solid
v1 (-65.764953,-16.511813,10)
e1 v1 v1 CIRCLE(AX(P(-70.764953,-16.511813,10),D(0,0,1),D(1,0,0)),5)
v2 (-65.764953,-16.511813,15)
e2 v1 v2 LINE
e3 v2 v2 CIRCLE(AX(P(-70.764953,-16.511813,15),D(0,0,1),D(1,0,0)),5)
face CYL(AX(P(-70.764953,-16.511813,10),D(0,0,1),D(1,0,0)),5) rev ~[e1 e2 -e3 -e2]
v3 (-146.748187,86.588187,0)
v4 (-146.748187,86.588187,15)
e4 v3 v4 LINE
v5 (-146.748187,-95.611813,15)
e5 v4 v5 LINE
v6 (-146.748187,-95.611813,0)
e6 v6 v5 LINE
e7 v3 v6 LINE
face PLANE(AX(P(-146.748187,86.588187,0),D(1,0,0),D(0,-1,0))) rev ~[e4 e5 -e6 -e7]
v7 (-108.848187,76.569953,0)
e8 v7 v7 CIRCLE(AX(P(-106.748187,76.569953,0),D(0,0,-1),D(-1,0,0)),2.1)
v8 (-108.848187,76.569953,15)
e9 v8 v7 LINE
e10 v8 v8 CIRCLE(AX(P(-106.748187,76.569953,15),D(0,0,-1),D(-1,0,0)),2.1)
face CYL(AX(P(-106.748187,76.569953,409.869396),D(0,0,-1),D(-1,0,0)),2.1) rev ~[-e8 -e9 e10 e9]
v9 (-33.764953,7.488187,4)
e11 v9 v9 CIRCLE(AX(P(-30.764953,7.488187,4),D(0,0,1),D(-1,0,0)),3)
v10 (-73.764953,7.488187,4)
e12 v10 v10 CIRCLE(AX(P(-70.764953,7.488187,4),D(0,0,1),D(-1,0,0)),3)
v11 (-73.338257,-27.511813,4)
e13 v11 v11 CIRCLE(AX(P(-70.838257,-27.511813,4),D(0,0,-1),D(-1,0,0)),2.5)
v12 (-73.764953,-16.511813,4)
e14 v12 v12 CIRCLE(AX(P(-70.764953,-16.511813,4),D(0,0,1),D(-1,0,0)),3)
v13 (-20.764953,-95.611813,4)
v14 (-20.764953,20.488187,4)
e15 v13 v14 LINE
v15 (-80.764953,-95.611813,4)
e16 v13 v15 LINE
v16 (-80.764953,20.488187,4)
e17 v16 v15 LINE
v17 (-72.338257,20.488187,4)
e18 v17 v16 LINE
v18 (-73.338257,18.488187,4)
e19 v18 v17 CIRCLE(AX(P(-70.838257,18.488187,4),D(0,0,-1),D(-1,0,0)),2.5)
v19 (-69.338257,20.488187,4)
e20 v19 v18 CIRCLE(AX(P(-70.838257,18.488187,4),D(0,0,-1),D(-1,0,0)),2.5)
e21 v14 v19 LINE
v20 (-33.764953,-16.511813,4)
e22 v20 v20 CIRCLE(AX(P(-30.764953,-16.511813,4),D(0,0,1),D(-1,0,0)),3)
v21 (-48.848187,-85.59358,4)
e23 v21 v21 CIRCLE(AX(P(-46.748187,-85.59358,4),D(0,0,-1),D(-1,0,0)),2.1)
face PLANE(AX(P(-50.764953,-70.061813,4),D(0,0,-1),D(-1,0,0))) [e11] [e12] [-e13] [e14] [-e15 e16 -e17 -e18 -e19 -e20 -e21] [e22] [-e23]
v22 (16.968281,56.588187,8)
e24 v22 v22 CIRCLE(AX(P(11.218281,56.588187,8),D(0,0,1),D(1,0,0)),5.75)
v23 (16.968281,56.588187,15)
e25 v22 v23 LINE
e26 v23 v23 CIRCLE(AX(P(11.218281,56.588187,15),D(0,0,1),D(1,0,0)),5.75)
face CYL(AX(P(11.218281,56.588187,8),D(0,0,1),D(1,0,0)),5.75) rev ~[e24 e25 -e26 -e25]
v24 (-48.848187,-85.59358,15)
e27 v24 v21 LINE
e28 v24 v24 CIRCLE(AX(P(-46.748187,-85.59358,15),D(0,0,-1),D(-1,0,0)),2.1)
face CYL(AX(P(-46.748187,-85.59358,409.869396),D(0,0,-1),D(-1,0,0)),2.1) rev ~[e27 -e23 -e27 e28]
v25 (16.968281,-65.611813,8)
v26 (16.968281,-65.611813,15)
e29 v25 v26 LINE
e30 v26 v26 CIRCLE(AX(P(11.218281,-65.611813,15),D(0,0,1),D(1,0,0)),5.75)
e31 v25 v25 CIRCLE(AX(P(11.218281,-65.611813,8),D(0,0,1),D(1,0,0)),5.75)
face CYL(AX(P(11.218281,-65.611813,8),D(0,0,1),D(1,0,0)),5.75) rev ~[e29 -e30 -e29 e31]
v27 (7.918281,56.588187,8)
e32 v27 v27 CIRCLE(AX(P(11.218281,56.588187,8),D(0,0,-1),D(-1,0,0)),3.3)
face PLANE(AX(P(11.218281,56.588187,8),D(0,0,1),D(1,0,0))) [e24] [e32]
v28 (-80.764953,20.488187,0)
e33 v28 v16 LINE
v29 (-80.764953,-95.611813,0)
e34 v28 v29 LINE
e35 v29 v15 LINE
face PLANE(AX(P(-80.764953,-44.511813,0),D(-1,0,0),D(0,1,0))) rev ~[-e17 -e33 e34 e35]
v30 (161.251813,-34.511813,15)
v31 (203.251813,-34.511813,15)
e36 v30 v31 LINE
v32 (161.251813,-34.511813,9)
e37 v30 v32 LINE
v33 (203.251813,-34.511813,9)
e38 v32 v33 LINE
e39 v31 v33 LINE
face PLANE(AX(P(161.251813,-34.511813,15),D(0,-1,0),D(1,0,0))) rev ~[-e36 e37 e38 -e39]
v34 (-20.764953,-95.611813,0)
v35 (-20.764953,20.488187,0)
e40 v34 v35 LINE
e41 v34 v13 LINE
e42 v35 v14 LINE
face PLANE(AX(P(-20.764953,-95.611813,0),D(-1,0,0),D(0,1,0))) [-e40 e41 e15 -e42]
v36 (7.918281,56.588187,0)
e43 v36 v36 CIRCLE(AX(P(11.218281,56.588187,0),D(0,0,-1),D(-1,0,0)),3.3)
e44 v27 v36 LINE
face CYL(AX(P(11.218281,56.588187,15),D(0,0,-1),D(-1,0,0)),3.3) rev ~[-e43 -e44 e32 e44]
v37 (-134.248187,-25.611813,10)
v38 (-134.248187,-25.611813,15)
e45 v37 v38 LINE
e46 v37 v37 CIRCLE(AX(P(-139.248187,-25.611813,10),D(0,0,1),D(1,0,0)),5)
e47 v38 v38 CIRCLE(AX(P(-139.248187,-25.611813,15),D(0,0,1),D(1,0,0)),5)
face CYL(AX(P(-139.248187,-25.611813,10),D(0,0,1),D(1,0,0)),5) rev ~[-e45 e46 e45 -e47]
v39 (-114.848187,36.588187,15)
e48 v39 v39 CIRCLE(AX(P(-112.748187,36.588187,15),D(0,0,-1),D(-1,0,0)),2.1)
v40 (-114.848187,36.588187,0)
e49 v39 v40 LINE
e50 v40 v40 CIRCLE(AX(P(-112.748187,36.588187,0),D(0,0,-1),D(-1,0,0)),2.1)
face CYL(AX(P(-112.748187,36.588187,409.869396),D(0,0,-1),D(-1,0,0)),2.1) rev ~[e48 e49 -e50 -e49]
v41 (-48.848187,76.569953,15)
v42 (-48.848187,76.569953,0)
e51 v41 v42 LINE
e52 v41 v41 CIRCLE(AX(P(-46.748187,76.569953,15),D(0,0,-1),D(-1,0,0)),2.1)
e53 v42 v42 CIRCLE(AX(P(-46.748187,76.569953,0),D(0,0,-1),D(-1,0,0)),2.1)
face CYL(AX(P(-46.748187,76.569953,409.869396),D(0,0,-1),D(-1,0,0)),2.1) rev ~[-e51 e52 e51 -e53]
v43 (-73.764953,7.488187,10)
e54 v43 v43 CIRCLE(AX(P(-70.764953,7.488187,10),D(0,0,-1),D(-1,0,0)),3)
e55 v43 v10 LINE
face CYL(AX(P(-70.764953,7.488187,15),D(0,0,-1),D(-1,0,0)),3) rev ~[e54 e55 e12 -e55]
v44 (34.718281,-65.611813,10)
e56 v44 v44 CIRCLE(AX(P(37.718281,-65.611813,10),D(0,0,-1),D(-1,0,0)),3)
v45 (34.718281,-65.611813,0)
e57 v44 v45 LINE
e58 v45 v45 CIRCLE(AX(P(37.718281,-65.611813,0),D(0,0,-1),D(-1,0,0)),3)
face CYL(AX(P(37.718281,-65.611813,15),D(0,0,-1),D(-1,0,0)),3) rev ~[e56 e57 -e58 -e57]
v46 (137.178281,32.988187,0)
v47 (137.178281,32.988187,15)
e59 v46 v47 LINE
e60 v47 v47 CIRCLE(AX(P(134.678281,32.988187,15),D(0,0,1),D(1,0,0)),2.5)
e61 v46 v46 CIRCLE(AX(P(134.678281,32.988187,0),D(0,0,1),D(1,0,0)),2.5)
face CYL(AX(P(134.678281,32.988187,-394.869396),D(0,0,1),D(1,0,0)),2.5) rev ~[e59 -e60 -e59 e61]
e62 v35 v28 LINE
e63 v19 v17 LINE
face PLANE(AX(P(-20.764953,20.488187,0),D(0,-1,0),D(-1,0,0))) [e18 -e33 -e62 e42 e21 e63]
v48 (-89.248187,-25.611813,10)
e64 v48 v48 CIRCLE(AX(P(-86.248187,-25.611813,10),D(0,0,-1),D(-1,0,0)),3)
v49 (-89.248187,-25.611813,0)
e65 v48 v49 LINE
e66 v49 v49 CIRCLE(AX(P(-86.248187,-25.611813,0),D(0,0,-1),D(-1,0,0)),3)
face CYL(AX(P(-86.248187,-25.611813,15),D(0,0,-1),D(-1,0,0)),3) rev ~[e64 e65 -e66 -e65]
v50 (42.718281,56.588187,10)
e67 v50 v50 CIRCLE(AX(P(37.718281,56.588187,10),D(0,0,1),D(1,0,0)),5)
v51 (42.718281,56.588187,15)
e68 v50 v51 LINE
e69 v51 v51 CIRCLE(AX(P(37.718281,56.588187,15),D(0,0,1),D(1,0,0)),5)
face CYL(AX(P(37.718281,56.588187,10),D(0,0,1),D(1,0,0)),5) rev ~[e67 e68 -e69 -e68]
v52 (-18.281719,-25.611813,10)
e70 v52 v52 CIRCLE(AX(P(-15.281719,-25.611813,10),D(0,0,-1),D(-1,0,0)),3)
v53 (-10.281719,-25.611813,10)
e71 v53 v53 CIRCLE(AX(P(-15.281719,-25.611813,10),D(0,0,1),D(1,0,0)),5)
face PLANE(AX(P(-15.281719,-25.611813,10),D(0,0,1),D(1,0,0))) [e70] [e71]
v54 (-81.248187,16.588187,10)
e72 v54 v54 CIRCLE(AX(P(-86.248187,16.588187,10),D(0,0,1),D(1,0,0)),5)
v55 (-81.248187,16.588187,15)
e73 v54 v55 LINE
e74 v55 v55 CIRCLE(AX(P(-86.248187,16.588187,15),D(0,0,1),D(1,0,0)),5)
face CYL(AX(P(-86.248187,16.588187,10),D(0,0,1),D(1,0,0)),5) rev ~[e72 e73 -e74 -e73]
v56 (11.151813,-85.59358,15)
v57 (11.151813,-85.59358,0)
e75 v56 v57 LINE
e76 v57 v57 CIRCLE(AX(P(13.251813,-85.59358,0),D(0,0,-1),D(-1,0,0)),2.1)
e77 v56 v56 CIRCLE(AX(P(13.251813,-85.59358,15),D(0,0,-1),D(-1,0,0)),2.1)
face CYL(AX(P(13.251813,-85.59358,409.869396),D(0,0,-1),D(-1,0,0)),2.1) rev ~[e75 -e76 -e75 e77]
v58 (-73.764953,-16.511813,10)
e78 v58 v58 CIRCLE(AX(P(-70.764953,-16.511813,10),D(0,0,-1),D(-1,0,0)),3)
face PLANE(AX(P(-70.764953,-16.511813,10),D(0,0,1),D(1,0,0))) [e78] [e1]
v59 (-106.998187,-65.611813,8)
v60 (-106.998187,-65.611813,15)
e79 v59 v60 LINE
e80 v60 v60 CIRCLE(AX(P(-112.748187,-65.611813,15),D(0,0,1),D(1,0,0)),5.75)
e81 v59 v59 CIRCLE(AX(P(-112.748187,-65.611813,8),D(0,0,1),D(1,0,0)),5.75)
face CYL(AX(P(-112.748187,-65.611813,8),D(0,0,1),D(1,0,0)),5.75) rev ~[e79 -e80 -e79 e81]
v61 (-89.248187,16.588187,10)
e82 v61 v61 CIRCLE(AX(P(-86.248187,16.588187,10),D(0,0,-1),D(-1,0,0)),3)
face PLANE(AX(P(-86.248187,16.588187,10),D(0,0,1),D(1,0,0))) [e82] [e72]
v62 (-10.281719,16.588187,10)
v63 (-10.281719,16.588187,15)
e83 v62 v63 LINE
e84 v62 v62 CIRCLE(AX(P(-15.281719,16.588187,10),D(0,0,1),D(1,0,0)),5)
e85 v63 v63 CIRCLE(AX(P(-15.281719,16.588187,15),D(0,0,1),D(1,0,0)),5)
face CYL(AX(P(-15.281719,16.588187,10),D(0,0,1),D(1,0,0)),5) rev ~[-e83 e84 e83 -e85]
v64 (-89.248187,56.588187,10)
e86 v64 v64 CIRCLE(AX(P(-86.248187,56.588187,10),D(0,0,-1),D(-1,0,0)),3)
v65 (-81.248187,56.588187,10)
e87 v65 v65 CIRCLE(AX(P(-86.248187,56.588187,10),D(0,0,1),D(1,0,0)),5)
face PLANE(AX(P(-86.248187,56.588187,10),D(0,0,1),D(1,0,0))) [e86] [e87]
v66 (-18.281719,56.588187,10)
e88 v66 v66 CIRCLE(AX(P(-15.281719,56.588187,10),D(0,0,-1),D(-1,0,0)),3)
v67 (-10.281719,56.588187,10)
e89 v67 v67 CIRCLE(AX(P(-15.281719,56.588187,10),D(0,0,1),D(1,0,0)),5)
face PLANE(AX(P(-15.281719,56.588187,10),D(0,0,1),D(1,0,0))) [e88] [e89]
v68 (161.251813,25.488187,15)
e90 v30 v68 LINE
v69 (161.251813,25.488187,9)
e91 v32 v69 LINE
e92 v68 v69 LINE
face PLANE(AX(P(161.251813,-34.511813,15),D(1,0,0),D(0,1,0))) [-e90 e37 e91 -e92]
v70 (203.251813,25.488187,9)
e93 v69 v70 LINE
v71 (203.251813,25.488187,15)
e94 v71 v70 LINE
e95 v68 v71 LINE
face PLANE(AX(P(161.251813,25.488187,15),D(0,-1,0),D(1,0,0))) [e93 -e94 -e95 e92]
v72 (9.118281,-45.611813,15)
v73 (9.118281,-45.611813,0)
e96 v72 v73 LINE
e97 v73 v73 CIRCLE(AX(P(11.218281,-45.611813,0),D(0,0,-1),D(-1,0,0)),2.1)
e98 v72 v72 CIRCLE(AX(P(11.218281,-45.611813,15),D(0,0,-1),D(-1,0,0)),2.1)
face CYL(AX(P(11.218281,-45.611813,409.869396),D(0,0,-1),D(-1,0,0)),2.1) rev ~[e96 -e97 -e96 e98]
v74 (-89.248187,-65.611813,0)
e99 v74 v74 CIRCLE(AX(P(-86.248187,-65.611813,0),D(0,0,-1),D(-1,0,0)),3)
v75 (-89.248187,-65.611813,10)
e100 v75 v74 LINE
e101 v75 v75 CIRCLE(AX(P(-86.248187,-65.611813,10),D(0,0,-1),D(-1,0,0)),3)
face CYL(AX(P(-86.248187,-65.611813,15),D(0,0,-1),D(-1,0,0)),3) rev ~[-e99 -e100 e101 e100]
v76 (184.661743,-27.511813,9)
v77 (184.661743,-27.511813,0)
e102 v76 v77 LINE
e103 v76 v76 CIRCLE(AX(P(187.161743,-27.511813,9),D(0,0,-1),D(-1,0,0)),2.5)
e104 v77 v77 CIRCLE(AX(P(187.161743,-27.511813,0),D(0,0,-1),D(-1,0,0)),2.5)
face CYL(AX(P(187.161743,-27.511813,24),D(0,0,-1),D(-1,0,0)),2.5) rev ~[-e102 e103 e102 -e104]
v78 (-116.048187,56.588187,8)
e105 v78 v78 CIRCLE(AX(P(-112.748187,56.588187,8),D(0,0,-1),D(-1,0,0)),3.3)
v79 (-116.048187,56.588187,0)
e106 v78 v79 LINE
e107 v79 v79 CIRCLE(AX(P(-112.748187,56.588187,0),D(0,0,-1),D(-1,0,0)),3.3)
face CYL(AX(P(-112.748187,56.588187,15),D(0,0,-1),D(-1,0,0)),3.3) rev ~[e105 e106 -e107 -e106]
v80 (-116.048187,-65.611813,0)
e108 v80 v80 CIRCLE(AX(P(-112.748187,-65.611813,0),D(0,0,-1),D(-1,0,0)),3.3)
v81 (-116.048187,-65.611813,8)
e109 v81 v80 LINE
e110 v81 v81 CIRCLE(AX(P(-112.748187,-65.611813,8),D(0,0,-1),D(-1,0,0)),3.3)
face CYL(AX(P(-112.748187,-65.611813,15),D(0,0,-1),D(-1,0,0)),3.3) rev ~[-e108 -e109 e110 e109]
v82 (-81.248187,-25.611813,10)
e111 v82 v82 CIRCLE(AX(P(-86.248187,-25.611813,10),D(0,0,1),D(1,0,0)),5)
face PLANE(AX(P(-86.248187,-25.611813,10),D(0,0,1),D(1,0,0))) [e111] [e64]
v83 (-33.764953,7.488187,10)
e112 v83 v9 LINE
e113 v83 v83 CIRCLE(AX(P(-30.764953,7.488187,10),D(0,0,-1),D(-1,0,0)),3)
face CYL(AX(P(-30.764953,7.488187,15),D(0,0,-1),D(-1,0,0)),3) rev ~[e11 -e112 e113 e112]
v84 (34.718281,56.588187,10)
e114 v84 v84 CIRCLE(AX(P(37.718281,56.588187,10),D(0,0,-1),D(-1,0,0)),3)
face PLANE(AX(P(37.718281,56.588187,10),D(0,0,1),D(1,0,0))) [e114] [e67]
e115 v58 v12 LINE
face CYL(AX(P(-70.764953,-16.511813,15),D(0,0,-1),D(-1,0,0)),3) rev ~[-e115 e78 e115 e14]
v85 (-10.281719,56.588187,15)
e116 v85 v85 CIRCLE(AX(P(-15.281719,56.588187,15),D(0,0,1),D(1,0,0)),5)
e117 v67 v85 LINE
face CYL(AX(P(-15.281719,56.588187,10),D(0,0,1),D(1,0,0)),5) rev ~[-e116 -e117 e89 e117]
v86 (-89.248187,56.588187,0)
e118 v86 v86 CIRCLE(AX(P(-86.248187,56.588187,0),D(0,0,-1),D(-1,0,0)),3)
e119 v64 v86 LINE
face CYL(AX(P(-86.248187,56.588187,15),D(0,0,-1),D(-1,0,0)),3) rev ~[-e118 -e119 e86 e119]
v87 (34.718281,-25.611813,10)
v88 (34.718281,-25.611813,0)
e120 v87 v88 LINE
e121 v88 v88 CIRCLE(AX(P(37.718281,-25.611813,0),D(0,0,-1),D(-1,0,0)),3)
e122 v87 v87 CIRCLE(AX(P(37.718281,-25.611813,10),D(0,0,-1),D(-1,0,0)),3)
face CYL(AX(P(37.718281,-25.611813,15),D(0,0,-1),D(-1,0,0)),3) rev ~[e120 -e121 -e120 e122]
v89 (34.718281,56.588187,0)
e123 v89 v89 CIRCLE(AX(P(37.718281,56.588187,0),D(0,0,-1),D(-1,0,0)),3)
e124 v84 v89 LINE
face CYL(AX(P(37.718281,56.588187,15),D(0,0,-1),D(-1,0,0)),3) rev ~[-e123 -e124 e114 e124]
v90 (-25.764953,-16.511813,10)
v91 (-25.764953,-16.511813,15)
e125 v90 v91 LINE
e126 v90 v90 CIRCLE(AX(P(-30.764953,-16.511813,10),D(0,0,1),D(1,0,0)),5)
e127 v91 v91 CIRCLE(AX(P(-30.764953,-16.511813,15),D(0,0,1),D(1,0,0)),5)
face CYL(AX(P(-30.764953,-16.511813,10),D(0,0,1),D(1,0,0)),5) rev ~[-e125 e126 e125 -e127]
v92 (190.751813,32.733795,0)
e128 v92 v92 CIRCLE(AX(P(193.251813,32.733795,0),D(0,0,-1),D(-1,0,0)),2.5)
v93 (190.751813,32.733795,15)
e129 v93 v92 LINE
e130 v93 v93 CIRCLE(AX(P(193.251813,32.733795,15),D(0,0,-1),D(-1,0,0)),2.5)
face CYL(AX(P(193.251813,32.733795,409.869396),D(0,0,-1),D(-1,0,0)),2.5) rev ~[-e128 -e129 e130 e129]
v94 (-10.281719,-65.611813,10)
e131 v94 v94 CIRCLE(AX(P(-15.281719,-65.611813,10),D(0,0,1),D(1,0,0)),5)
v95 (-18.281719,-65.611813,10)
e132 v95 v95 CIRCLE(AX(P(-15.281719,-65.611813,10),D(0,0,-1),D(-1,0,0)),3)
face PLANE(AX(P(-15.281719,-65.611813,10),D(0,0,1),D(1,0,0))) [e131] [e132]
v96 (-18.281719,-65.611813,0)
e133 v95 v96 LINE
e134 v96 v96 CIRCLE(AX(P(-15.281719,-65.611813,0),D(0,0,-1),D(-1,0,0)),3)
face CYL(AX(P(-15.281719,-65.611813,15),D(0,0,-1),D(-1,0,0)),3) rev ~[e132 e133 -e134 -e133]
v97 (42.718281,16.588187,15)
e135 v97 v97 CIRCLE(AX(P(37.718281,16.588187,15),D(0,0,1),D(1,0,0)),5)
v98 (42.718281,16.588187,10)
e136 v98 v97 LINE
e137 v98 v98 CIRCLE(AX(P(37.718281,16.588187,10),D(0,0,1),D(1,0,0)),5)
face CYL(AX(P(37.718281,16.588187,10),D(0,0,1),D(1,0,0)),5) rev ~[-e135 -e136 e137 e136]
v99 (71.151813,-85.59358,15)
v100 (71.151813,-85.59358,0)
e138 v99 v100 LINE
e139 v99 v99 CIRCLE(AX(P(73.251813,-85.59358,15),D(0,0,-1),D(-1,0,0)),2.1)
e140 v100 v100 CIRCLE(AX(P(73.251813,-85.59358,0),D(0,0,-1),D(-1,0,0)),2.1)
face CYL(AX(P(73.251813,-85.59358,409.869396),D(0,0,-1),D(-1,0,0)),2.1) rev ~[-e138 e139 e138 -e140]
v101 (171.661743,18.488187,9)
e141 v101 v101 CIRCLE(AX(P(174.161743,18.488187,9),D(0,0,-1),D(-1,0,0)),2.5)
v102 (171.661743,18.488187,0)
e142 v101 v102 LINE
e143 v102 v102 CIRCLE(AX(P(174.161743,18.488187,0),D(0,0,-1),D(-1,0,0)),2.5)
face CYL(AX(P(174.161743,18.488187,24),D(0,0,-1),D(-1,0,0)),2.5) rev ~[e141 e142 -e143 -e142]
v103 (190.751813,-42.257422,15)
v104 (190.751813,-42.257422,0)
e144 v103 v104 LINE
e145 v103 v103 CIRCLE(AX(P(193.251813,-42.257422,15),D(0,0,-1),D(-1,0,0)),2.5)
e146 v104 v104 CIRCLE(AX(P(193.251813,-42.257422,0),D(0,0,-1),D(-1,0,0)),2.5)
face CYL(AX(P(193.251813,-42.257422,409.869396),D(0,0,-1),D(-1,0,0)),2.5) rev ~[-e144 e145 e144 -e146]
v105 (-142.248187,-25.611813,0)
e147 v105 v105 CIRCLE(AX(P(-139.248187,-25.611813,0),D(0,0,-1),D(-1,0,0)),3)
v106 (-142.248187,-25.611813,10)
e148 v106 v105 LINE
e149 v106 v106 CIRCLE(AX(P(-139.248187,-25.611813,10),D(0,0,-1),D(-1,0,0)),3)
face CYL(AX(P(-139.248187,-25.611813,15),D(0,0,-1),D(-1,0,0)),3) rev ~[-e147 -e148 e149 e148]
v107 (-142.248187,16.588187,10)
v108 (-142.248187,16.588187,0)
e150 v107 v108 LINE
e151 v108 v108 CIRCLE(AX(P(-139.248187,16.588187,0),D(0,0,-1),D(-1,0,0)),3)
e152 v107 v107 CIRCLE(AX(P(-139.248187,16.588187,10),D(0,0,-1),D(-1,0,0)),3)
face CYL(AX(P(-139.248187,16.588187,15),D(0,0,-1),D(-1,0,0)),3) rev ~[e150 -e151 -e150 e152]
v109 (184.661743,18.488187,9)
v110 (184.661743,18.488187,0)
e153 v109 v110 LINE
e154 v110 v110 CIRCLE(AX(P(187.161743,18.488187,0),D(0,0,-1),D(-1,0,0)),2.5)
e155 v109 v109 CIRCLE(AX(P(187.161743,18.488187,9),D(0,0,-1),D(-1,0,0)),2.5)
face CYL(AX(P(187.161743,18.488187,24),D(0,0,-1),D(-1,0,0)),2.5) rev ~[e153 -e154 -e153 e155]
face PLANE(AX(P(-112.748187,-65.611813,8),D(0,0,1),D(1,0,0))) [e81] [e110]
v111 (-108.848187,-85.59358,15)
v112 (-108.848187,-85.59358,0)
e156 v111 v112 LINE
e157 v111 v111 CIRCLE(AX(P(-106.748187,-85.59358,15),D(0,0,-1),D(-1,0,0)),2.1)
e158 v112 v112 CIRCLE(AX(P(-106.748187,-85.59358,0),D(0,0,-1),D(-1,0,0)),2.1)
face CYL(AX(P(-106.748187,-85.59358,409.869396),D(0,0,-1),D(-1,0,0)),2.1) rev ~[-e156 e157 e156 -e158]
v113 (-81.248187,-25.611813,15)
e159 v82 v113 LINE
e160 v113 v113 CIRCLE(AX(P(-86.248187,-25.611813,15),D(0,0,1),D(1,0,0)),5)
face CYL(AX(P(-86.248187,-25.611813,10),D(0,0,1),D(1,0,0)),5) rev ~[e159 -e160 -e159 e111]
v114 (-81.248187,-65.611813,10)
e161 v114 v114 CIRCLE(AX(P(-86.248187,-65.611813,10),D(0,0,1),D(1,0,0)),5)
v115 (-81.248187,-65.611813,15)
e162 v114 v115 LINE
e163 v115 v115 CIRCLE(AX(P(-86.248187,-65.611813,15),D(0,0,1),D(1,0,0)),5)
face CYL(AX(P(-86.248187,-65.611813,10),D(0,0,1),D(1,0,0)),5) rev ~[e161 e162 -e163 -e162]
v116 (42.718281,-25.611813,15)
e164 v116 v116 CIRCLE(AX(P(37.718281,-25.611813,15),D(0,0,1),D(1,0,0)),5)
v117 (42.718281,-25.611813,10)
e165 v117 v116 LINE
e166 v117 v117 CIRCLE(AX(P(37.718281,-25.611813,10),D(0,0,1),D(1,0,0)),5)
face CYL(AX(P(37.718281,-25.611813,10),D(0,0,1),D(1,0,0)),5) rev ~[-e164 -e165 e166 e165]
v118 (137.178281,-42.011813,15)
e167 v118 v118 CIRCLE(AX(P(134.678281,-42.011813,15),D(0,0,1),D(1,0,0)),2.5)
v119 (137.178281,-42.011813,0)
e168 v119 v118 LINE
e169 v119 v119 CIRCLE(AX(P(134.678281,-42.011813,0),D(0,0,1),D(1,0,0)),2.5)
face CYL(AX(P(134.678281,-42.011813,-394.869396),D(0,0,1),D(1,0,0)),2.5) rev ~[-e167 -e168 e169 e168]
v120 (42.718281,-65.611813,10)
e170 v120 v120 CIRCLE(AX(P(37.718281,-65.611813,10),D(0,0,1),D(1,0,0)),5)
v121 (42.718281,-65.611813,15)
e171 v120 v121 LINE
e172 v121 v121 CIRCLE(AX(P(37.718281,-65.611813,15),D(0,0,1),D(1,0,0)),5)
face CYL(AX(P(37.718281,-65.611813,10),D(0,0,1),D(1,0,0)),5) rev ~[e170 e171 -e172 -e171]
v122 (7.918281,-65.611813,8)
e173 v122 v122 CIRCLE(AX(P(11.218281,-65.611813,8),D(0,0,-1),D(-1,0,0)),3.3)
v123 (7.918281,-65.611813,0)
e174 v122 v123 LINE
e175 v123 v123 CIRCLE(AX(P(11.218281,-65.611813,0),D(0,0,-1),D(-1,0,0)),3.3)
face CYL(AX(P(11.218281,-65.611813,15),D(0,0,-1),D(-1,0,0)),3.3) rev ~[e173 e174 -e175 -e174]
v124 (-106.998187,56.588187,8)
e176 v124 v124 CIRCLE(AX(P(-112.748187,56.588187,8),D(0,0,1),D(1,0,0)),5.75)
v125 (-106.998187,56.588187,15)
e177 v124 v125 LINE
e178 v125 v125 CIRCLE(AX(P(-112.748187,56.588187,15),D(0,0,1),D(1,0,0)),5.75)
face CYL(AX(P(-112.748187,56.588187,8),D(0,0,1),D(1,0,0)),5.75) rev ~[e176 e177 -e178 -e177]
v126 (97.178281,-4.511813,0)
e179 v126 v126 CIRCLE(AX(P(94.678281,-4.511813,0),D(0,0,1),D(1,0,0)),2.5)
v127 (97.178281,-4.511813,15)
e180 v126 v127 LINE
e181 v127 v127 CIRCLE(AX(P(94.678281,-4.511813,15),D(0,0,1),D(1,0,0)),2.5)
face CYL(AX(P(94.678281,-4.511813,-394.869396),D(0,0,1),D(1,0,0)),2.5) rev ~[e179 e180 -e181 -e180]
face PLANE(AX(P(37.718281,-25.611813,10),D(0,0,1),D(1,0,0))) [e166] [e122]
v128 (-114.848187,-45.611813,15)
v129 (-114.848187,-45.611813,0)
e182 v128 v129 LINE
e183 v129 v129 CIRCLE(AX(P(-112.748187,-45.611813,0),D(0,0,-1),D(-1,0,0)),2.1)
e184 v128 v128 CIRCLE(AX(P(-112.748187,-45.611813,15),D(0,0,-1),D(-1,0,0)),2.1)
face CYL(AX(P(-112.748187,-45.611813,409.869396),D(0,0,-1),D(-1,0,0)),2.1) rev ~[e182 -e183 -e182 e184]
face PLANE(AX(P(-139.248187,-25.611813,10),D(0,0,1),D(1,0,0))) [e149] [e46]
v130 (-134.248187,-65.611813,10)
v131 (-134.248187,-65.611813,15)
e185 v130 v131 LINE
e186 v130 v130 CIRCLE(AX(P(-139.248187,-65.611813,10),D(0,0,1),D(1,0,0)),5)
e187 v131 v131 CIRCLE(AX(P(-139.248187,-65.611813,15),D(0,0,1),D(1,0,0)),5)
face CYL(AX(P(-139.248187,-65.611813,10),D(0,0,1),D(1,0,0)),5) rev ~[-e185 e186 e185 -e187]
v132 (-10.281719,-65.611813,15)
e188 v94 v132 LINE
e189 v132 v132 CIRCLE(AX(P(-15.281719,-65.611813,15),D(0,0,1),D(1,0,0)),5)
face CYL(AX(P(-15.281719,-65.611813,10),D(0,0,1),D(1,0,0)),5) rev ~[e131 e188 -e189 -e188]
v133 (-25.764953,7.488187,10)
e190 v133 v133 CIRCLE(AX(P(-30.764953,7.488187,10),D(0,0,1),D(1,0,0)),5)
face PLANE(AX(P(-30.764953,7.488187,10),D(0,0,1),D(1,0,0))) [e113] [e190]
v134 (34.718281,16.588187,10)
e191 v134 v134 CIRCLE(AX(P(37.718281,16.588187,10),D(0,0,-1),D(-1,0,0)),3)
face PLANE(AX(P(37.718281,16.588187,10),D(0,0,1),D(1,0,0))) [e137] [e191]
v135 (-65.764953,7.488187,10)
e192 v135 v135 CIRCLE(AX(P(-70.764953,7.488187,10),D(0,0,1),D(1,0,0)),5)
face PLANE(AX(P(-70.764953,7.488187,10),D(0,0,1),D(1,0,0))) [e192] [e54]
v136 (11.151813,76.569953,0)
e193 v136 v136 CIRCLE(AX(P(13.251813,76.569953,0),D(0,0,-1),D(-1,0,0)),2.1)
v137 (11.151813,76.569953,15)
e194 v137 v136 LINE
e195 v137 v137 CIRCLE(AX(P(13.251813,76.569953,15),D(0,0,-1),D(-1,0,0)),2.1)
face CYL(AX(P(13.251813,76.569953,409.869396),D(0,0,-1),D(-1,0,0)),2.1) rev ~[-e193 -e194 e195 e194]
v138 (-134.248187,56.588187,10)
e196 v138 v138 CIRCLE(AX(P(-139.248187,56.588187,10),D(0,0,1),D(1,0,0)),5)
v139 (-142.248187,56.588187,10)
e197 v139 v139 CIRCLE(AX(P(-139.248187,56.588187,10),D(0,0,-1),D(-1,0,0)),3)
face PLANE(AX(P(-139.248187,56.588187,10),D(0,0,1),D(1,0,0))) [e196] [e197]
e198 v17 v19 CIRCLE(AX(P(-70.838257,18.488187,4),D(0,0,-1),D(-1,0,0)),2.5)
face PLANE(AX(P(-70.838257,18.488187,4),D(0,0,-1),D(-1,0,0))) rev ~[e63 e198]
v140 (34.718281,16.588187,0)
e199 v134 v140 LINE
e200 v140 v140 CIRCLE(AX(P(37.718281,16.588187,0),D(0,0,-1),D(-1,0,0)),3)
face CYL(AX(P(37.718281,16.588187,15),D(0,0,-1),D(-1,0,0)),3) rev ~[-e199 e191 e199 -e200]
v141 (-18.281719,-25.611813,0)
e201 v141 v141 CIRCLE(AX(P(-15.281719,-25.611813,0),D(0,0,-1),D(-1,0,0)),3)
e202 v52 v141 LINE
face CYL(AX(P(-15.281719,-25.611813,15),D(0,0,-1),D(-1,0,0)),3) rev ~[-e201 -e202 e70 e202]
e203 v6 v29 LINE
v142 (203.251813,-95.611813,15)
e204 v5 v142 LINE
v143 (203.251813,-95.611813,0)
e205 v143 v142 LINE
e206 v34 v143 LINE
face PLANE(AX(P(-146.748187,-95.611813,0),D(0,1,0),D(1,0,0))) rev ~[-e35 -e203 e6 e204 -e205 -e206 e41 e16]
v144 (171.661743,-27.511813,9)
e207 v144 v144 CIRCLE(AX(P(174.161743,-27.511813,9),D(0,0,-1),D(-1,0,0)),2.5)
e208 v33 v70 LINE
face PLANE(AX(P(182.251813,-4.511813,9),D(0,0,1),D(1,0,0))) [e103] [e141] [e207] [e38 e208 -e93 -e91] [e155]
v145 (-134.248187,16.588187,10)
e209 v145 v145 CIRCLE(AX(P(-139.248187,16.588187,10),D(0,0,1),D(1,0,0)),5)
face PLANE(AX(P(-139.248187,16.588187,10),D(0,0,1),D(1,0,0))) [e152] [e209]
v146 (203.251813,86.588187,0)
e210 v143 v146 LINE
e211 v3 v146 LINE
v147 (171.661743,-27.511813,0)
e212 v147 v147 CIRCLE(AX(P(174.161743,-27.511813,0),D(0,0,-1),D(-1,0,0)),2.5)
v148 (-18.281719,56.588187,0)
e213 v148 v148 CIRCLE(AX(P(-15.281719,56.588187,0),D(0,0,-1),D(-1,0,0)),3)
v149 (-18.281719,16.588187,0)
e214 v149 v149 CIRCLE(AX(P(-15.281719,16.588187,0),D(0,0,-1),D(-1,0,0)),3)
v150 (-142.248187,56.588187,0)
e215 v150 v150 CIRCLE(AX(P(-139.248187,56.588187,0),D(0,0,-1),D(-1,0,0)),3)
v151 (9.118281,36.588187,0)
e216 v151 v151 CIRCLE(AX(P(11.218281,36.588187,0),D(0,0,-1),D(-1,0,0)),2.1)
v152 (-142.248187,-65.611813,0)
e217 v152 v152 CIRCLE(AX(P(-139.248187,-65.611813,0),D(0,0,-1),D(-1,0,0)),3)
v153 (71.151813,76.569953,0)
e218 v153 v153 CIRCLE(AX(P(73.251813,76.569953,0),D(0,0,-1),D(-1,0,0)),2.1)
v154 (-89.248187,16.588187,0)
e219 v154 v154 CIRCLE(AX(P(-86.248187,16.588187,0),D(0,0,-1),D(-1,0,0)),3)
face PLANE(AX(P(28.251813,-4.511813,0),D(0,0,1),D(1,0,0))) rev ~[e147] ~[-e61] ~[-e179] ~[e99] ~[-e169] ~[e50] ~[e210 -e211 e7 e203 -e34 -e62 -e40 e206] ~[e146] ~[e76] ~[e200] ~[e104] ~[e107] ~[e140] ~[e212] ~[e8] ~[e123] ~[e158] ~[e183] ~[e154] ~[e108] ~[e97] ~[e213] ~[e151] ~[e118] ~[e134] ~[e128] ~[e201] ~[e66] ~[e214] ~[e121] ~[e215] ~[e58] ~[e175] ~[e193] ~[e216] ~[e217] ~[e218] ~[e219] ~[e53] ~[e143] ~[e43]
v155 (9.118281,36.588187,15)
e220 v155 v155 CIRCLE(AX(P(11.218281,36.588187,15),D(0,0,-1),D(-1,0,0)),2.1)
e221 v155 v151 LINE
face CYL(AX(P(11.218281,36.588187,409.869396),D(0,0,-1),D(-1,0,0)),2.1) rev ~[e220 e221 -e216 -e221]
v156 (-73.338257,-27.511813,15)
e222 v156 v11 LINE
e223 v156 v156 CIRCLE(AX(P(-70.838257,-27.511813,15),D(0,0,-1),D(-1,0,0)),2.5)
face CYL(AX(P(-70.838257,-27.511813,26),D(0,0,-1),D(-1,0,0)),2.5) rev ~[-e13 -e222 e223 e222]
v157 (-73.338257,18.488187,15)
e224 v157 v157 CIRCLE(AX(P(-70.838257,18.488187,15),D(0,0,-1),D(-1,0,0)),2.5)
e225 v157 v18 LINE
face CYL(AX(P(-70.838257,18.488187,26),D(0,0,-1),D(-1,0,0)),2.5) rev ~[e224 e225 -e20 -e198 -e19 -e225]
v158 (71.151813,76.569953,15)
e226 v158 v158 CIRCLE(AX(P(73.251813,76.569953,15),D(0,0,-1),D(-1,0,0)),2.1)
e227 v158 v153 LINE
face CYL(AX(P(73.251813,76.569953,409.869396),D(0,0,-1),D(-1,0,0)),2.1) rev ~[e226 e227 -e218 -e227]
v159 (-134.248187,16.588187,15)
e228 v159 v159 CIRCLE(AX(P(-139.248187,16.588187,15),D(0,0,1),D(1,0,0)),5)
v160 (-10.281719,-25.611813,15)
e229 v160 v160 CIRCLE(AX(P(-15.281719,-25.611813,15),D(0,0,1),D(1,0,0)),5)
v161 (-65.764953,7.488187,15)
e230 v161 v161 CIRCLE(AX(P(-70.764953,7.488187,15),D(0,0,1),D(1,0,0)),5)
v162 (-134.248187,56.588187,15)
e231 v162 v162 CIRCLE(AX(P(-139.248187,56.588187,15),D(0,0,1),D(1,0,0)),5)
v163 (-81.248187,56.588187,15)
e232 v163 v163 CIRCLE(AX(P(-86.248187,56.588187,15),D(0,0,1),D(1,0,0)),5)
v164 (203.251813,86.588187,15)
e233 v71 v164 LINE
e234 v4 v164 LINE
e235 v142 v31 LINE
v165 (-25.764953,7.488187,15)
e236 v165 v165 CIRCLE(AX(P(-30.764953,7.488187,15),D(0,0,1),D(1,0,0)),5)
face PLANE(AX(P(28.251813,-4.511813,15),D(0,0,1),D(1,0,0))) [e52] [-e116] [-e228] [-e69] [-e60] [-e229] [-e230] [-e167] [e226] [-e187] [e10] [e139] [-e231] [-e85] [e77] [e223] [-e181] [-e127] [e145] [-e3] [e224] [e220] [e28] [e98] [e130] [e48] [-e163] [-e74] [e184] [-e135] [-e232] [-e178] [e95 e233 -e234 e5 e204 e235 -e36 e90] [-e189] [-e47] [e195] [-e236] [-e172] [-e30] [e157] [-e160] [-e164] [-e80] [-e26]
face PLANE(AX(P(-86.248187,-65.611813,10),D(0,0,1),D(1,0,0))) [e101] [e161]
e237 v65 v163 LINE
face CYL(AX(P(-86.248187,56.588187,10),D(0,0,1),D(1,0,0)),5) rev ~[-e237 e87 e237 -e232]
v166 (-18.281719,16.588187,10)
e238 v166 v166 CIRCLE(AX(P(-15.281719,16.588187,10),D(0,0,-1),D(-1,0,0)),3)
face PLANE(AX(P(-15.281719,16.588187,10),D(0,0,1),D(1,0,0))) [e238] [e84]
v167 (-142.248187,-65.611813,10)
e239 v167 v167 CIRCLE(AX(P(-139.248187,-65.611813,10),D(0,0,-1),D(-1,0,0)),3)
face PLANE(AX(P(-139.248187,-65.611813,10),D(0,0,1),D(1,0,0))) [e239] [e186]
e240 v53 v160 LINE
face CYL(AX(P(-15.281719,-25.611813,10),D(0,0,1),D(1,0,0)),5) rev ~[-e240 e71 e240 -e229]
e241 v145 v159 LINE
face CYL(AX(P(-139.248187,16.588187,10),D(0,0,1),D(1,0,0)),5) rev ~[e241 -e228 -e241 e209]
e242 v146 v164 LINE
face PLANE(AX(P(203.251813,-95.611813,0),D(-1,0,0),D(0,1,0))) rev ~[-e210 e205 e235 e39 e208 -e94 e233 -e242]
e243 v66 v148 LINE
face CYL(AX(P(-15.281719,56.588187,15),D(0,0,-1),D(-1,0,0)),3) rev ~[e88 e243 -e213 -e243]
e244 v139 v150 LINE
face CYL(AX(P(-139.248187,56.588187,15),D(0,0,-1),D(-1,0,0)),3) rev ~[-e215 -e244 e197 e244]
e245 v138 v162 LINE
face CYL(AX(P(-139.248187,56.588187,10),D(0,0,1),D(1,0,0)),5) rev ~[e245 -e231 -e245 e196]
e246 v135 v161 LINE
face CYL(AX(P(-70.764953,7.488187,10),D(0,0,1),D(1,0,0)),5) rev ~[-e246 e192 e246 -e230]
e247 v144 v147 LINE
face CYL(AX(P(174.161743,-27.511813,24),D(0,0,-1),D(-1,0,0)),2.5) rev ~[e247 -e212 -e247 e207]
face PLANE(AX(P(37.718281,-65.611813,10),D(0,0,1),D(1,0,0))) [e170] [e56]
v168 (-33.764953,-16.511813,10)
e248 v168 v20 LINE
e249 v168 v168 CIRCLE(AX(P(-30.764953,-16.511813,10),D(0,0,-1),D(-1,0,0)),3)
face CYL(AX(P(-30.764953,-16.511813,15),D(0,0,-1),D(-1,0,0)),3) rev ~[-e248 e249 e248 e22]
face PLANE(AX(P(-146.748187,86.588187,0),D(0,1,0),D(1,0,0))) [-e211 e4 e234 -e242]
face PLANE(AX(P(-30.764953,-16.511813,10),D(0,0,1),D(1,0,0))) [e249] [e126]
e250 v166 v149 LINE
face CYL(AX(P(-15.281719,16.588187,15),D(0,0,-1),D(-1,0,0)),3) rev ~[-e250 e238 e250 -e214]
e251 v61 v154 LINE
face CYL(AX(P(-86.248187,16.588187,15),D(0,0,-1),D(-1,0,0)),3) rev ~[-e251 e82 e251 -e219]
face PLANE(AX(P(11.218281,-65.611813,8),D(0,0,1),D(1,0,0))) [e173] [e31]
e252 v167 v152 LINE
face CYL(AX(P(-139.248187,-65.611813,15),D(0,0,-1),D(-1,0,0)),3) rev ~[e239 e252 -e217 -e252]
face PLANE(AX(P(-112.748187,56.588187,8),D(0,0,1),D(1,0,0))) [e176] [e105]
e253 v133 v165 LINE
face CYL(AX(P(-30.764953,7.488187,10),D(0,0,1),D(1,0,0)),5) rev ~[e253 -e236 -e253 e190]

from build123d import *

# Parameters (mm, degrees)
SKETCH1_W                        = 350
SKETCH1_H                        = 132.2
SKETCH1_H_2                      = 25
BOSS_EXTRUDE1_DEPTH              = 15
CARRIAGEHOLES_D                  = 6
CARRIAGEHOLES_CBORE_D            = 10
CARRIAGEHOLES_CBORE_DEPTH        = 5
CARRIAGESETSCREWS_D              = 4.2
BOTTOMRAILHOLES_D                = 4.2
SKETCH10_W                       = 60
SKETCH10_H                       = 50
SKETCH10_H_2                     = 15
CUT_EXTRUDE1_DEPTH               = 4
SFUNUTHOLES_D                    = 6
SFUNUTHOLES_DEPTH                = 11
SFUNUTHOLES_CBORE_D              = 10
SFUNUTHOLES_CBORE_DEPTH          = 5
SFUNUTHOLES_TIP                  = 1.802581857
SKETCH13_W                       = 42
SKETCH13_H                       = 60
BKNOTCH_DEPTH                    = 6
M6X1_0_TAPPED_HOLE1_D            = 5
M6X1_0_TAPPED_HOLE1_DEPTH        = 15
M6X1_0_TAPPED_HOLE1_TIP          = 1.502151548
BFBLOCKHOLES_D                   = 5
BFBLOCKHOLES_DEPTH               = 11
SKETCH22_W                       = 60
SKETCH22_H                       = 51.1
CUT_EXTRUDE2_DEPTH               = 4
MOTORMOUNT_D                     = 5
CARRIAGEPLATESSCREWS_D           = 6.6
CARRIAGEPLATESSCREWS_CBORE_D     = 11.5
CARRIAGEPLATESSCREWS_CBORE_DEPTH = 7
M6X1_0_TAPPED_HOLE2_D            = 5


with BuildPart() as part:
    # Sketch1 → Boss-Extrude1 (new body)
    with BuildSketch(Plane.XY):
        with Locations((28.251813468, -4.511813374)):
            Rectangle(SKETCH1_W, SKETCH1_H)
        with Locations((28.251813468, 74.088186626)):
            Rectangle(SKETCH1_W, SKETCH1_H_2)
        with Locations((28.251813468, -83.111813374)):
            Rectangle(SKETCH1_W, SKETCH1_H_2)
    extrude(amount=BOSS_EXTRUDE1_DEPTH)

    # carriageHoles (through all)
    with Locations(Plane(origin=(37.718280998, 56.588186626, 15), x_dir=(1, 0, 0), z_dir=(0, 0, 1))):
        with Locations((0, 0), (0, -40), (-53, -40), (-53, 0), (0, -82.2), (0, -122.2), (-53, -122.2), (-53, -82.2), (-123.96646753, -82.2), (-123.96646753, -122.2), (-176.96646753, -122.2), (-176.96646753, -82.2), (-176.96646753, -40), (-123.96646753, -40), (-123.96646753, 0), (-176.96646753, 0)):
            CounterBoreHole(CARRIAGEHOLES_D / 2, CARRIAGEHOLES_CBORE_D / 2, CARRIAGEHOLES_CBORE_DEPTH)

    # carriageSetScrews (through all)
    with Locations(Plane(origin=(11.218280998, 36.588186626, 15), x_dir=(1, 0, 0), z_dir=(0, 0, 1))):
        with Locations((0, 0), (-123.96646753, -82.2), (-123.96646753, 0), (0, -82.2)):
            Hole(CARRIAGESETSCREWS_D / 2)

    # bottomRailHoles (through all)
    with Locations(Plane(origin=(-106.748186532, 76.569952861, 15), x_dir=(1, 0, 0), z_dir=(0, 0, 1))):
        with Locations((0, 0), (60, 0), (120, 0), (180, 0), (180, -162.16353247), (120, -162.16353247), (60, -162.16353247), (0, -162.16353247)):
            Hole(BOTTOMRAILHOLES_D / 2)

    # Sketch10 → Cut-Extrude1 (cut)
    with BuildSketch(Plane(origin=(0, 0, 0), x_dir=(-1, 0, 0), z_dir=(0, 0, -1))):
        with Locations((50.764952767, -4.511813374)):
            Rectangle(SKETCH10_W, SKETCH10_H)
        with Locations((50.764952767, -37.011813374)):
            Rectangle(SKETCH10_W, SKETCH10_H_2)
    extrude(amount=-CUT_EXTRUDE1_DEPTH, mode=Mode.SUBTRACT)

    # sfuNutHoles
    with Locations(Plane(origin=(-30.764952767, 7.488186626, 15), x_dir=(1, 0, 0), z_dir=(0, 0, 1))):
        with Locations((0, 0), (0, -24), (-40, -24), (-40, 0)):
            CounterBoreHole(SFUNUTHOLES_D / 2, SFUNUTHOLES_CBORE_D / 2, SFUNUTHOLES_CBORE_DEPTH, depth=SFUNUTHOLES_DEPTH)
            with Locations((0, 0, -(SFUNUTHOLES_DEPTH + SFUNUTHOLES_TIP / 2))):  # 118° drill point
                Cone(0, SFUNUTHOLES_D / 2, SFUNUTHOLES_TIP, mode=Mode.SUBTRACT)

    # Sketch13 → bkNotch (cut)
    with BuildSketch(Plane.XY.offset(15)):
        with Locations((182.251813468, -4.511813374)):
            Rectangle(SKETCH13_W, SKETCH13_H)
    extrude(amount=-BKNOTCH_DEPTH, mode=Mode.SUBTRACT)

    # M6x1.0 Tapped Hole1
    with Locations(Plane(origin=(187.161743151, 18.488186626, 9), x_dir=(1, 0, 0), z_dir=(0, 0, 1))):
        with Locations((0, 0), (-13, 0), (0, -46), (-13, -46)):
            Hole(M6X1_0_TAPPED_HOLE1_D / 2, depth=M6X1_0_TAPPED_HOLE1_DEPTH)
            with Locations((0, 0, -(M6X1_0_TAPPED_HOLE1_DEPTH + M6X1_0_TAPPED_HOLE1_TIP / 2))):  # 118° drill point
                Cone(0, M6X1_0_TAPPED_HOLE1_D / 2, M6X1_0_TAPPED_HOLE1_TIP, mode=Mode.SUBTRACT)

    # BFBlockHoles
    with Locations(Plane(origin=(-70.838256849, 18.488186626, 15), x_dir=(1, 0, 0), z_dir=(0, 0, 1))):
        with Locations((0, 0), (0, -46)):
            Hole(BFBLOCKHOLES_D / 2, depth=BFBLOCKHOLES_DEPTH)

    # Sketch22 → Cut-Extrude2 (cut)
    with BuildSketch(Plane(origin=(0, 0, 0), x_dir=(-1, 0, 0), z_dir=(0, 0, -1))):
        with Locations((50.764952767, -70.061813374)):
            Rectangle(SKETCH22_W, SKETCH22_H)
    extrude(amount=-CUT_EXTRUDE2_DEPTH, mode=Mode.SUBTRACT)

    # MotorMount (through all)
    with Locations(Plane(origin=(193.251813468, 32.733794894, 15), x_dir=(1, 0, 0), z_dir=(0, 0, 1))):
        with Locations((0, 0), (0, -74.991216537)):
            Hole(MOTORMOUNT_D / 2)

    # carriagePlatesScrews (through all)
    with Locations(Plane(origin=(11.218280998, 56.588186626, 15), x_dir=(1, 0, 0), z_dir=(0, 0, 1))):
        with Locations((0, 0), (0, -122.2), (-123.96646753, -122.2), (-123.96646753, 0)):
            CounterBoreHole(CARRIAGEPLATESSCREWS_D / 2, CARRIAGEPLATESSCREWS_CBORE_D / 2, CARRIAGEPLATESSCREWS_CBORE_DEPTH)

    # M6x1.0 Tapped Hole2 (through all)
    with Locations(Plane(origin=(134.678280998, -42.011813374, 0), x_dir=(-1, 0, 0), z_dir=(0, 0, -1))):
        with Locations((0, 0), (40, 37.5), (0, 75)):
            Hole(M6X1_0_TAPPED_HOLE2_D / 2)


solid = part.part
